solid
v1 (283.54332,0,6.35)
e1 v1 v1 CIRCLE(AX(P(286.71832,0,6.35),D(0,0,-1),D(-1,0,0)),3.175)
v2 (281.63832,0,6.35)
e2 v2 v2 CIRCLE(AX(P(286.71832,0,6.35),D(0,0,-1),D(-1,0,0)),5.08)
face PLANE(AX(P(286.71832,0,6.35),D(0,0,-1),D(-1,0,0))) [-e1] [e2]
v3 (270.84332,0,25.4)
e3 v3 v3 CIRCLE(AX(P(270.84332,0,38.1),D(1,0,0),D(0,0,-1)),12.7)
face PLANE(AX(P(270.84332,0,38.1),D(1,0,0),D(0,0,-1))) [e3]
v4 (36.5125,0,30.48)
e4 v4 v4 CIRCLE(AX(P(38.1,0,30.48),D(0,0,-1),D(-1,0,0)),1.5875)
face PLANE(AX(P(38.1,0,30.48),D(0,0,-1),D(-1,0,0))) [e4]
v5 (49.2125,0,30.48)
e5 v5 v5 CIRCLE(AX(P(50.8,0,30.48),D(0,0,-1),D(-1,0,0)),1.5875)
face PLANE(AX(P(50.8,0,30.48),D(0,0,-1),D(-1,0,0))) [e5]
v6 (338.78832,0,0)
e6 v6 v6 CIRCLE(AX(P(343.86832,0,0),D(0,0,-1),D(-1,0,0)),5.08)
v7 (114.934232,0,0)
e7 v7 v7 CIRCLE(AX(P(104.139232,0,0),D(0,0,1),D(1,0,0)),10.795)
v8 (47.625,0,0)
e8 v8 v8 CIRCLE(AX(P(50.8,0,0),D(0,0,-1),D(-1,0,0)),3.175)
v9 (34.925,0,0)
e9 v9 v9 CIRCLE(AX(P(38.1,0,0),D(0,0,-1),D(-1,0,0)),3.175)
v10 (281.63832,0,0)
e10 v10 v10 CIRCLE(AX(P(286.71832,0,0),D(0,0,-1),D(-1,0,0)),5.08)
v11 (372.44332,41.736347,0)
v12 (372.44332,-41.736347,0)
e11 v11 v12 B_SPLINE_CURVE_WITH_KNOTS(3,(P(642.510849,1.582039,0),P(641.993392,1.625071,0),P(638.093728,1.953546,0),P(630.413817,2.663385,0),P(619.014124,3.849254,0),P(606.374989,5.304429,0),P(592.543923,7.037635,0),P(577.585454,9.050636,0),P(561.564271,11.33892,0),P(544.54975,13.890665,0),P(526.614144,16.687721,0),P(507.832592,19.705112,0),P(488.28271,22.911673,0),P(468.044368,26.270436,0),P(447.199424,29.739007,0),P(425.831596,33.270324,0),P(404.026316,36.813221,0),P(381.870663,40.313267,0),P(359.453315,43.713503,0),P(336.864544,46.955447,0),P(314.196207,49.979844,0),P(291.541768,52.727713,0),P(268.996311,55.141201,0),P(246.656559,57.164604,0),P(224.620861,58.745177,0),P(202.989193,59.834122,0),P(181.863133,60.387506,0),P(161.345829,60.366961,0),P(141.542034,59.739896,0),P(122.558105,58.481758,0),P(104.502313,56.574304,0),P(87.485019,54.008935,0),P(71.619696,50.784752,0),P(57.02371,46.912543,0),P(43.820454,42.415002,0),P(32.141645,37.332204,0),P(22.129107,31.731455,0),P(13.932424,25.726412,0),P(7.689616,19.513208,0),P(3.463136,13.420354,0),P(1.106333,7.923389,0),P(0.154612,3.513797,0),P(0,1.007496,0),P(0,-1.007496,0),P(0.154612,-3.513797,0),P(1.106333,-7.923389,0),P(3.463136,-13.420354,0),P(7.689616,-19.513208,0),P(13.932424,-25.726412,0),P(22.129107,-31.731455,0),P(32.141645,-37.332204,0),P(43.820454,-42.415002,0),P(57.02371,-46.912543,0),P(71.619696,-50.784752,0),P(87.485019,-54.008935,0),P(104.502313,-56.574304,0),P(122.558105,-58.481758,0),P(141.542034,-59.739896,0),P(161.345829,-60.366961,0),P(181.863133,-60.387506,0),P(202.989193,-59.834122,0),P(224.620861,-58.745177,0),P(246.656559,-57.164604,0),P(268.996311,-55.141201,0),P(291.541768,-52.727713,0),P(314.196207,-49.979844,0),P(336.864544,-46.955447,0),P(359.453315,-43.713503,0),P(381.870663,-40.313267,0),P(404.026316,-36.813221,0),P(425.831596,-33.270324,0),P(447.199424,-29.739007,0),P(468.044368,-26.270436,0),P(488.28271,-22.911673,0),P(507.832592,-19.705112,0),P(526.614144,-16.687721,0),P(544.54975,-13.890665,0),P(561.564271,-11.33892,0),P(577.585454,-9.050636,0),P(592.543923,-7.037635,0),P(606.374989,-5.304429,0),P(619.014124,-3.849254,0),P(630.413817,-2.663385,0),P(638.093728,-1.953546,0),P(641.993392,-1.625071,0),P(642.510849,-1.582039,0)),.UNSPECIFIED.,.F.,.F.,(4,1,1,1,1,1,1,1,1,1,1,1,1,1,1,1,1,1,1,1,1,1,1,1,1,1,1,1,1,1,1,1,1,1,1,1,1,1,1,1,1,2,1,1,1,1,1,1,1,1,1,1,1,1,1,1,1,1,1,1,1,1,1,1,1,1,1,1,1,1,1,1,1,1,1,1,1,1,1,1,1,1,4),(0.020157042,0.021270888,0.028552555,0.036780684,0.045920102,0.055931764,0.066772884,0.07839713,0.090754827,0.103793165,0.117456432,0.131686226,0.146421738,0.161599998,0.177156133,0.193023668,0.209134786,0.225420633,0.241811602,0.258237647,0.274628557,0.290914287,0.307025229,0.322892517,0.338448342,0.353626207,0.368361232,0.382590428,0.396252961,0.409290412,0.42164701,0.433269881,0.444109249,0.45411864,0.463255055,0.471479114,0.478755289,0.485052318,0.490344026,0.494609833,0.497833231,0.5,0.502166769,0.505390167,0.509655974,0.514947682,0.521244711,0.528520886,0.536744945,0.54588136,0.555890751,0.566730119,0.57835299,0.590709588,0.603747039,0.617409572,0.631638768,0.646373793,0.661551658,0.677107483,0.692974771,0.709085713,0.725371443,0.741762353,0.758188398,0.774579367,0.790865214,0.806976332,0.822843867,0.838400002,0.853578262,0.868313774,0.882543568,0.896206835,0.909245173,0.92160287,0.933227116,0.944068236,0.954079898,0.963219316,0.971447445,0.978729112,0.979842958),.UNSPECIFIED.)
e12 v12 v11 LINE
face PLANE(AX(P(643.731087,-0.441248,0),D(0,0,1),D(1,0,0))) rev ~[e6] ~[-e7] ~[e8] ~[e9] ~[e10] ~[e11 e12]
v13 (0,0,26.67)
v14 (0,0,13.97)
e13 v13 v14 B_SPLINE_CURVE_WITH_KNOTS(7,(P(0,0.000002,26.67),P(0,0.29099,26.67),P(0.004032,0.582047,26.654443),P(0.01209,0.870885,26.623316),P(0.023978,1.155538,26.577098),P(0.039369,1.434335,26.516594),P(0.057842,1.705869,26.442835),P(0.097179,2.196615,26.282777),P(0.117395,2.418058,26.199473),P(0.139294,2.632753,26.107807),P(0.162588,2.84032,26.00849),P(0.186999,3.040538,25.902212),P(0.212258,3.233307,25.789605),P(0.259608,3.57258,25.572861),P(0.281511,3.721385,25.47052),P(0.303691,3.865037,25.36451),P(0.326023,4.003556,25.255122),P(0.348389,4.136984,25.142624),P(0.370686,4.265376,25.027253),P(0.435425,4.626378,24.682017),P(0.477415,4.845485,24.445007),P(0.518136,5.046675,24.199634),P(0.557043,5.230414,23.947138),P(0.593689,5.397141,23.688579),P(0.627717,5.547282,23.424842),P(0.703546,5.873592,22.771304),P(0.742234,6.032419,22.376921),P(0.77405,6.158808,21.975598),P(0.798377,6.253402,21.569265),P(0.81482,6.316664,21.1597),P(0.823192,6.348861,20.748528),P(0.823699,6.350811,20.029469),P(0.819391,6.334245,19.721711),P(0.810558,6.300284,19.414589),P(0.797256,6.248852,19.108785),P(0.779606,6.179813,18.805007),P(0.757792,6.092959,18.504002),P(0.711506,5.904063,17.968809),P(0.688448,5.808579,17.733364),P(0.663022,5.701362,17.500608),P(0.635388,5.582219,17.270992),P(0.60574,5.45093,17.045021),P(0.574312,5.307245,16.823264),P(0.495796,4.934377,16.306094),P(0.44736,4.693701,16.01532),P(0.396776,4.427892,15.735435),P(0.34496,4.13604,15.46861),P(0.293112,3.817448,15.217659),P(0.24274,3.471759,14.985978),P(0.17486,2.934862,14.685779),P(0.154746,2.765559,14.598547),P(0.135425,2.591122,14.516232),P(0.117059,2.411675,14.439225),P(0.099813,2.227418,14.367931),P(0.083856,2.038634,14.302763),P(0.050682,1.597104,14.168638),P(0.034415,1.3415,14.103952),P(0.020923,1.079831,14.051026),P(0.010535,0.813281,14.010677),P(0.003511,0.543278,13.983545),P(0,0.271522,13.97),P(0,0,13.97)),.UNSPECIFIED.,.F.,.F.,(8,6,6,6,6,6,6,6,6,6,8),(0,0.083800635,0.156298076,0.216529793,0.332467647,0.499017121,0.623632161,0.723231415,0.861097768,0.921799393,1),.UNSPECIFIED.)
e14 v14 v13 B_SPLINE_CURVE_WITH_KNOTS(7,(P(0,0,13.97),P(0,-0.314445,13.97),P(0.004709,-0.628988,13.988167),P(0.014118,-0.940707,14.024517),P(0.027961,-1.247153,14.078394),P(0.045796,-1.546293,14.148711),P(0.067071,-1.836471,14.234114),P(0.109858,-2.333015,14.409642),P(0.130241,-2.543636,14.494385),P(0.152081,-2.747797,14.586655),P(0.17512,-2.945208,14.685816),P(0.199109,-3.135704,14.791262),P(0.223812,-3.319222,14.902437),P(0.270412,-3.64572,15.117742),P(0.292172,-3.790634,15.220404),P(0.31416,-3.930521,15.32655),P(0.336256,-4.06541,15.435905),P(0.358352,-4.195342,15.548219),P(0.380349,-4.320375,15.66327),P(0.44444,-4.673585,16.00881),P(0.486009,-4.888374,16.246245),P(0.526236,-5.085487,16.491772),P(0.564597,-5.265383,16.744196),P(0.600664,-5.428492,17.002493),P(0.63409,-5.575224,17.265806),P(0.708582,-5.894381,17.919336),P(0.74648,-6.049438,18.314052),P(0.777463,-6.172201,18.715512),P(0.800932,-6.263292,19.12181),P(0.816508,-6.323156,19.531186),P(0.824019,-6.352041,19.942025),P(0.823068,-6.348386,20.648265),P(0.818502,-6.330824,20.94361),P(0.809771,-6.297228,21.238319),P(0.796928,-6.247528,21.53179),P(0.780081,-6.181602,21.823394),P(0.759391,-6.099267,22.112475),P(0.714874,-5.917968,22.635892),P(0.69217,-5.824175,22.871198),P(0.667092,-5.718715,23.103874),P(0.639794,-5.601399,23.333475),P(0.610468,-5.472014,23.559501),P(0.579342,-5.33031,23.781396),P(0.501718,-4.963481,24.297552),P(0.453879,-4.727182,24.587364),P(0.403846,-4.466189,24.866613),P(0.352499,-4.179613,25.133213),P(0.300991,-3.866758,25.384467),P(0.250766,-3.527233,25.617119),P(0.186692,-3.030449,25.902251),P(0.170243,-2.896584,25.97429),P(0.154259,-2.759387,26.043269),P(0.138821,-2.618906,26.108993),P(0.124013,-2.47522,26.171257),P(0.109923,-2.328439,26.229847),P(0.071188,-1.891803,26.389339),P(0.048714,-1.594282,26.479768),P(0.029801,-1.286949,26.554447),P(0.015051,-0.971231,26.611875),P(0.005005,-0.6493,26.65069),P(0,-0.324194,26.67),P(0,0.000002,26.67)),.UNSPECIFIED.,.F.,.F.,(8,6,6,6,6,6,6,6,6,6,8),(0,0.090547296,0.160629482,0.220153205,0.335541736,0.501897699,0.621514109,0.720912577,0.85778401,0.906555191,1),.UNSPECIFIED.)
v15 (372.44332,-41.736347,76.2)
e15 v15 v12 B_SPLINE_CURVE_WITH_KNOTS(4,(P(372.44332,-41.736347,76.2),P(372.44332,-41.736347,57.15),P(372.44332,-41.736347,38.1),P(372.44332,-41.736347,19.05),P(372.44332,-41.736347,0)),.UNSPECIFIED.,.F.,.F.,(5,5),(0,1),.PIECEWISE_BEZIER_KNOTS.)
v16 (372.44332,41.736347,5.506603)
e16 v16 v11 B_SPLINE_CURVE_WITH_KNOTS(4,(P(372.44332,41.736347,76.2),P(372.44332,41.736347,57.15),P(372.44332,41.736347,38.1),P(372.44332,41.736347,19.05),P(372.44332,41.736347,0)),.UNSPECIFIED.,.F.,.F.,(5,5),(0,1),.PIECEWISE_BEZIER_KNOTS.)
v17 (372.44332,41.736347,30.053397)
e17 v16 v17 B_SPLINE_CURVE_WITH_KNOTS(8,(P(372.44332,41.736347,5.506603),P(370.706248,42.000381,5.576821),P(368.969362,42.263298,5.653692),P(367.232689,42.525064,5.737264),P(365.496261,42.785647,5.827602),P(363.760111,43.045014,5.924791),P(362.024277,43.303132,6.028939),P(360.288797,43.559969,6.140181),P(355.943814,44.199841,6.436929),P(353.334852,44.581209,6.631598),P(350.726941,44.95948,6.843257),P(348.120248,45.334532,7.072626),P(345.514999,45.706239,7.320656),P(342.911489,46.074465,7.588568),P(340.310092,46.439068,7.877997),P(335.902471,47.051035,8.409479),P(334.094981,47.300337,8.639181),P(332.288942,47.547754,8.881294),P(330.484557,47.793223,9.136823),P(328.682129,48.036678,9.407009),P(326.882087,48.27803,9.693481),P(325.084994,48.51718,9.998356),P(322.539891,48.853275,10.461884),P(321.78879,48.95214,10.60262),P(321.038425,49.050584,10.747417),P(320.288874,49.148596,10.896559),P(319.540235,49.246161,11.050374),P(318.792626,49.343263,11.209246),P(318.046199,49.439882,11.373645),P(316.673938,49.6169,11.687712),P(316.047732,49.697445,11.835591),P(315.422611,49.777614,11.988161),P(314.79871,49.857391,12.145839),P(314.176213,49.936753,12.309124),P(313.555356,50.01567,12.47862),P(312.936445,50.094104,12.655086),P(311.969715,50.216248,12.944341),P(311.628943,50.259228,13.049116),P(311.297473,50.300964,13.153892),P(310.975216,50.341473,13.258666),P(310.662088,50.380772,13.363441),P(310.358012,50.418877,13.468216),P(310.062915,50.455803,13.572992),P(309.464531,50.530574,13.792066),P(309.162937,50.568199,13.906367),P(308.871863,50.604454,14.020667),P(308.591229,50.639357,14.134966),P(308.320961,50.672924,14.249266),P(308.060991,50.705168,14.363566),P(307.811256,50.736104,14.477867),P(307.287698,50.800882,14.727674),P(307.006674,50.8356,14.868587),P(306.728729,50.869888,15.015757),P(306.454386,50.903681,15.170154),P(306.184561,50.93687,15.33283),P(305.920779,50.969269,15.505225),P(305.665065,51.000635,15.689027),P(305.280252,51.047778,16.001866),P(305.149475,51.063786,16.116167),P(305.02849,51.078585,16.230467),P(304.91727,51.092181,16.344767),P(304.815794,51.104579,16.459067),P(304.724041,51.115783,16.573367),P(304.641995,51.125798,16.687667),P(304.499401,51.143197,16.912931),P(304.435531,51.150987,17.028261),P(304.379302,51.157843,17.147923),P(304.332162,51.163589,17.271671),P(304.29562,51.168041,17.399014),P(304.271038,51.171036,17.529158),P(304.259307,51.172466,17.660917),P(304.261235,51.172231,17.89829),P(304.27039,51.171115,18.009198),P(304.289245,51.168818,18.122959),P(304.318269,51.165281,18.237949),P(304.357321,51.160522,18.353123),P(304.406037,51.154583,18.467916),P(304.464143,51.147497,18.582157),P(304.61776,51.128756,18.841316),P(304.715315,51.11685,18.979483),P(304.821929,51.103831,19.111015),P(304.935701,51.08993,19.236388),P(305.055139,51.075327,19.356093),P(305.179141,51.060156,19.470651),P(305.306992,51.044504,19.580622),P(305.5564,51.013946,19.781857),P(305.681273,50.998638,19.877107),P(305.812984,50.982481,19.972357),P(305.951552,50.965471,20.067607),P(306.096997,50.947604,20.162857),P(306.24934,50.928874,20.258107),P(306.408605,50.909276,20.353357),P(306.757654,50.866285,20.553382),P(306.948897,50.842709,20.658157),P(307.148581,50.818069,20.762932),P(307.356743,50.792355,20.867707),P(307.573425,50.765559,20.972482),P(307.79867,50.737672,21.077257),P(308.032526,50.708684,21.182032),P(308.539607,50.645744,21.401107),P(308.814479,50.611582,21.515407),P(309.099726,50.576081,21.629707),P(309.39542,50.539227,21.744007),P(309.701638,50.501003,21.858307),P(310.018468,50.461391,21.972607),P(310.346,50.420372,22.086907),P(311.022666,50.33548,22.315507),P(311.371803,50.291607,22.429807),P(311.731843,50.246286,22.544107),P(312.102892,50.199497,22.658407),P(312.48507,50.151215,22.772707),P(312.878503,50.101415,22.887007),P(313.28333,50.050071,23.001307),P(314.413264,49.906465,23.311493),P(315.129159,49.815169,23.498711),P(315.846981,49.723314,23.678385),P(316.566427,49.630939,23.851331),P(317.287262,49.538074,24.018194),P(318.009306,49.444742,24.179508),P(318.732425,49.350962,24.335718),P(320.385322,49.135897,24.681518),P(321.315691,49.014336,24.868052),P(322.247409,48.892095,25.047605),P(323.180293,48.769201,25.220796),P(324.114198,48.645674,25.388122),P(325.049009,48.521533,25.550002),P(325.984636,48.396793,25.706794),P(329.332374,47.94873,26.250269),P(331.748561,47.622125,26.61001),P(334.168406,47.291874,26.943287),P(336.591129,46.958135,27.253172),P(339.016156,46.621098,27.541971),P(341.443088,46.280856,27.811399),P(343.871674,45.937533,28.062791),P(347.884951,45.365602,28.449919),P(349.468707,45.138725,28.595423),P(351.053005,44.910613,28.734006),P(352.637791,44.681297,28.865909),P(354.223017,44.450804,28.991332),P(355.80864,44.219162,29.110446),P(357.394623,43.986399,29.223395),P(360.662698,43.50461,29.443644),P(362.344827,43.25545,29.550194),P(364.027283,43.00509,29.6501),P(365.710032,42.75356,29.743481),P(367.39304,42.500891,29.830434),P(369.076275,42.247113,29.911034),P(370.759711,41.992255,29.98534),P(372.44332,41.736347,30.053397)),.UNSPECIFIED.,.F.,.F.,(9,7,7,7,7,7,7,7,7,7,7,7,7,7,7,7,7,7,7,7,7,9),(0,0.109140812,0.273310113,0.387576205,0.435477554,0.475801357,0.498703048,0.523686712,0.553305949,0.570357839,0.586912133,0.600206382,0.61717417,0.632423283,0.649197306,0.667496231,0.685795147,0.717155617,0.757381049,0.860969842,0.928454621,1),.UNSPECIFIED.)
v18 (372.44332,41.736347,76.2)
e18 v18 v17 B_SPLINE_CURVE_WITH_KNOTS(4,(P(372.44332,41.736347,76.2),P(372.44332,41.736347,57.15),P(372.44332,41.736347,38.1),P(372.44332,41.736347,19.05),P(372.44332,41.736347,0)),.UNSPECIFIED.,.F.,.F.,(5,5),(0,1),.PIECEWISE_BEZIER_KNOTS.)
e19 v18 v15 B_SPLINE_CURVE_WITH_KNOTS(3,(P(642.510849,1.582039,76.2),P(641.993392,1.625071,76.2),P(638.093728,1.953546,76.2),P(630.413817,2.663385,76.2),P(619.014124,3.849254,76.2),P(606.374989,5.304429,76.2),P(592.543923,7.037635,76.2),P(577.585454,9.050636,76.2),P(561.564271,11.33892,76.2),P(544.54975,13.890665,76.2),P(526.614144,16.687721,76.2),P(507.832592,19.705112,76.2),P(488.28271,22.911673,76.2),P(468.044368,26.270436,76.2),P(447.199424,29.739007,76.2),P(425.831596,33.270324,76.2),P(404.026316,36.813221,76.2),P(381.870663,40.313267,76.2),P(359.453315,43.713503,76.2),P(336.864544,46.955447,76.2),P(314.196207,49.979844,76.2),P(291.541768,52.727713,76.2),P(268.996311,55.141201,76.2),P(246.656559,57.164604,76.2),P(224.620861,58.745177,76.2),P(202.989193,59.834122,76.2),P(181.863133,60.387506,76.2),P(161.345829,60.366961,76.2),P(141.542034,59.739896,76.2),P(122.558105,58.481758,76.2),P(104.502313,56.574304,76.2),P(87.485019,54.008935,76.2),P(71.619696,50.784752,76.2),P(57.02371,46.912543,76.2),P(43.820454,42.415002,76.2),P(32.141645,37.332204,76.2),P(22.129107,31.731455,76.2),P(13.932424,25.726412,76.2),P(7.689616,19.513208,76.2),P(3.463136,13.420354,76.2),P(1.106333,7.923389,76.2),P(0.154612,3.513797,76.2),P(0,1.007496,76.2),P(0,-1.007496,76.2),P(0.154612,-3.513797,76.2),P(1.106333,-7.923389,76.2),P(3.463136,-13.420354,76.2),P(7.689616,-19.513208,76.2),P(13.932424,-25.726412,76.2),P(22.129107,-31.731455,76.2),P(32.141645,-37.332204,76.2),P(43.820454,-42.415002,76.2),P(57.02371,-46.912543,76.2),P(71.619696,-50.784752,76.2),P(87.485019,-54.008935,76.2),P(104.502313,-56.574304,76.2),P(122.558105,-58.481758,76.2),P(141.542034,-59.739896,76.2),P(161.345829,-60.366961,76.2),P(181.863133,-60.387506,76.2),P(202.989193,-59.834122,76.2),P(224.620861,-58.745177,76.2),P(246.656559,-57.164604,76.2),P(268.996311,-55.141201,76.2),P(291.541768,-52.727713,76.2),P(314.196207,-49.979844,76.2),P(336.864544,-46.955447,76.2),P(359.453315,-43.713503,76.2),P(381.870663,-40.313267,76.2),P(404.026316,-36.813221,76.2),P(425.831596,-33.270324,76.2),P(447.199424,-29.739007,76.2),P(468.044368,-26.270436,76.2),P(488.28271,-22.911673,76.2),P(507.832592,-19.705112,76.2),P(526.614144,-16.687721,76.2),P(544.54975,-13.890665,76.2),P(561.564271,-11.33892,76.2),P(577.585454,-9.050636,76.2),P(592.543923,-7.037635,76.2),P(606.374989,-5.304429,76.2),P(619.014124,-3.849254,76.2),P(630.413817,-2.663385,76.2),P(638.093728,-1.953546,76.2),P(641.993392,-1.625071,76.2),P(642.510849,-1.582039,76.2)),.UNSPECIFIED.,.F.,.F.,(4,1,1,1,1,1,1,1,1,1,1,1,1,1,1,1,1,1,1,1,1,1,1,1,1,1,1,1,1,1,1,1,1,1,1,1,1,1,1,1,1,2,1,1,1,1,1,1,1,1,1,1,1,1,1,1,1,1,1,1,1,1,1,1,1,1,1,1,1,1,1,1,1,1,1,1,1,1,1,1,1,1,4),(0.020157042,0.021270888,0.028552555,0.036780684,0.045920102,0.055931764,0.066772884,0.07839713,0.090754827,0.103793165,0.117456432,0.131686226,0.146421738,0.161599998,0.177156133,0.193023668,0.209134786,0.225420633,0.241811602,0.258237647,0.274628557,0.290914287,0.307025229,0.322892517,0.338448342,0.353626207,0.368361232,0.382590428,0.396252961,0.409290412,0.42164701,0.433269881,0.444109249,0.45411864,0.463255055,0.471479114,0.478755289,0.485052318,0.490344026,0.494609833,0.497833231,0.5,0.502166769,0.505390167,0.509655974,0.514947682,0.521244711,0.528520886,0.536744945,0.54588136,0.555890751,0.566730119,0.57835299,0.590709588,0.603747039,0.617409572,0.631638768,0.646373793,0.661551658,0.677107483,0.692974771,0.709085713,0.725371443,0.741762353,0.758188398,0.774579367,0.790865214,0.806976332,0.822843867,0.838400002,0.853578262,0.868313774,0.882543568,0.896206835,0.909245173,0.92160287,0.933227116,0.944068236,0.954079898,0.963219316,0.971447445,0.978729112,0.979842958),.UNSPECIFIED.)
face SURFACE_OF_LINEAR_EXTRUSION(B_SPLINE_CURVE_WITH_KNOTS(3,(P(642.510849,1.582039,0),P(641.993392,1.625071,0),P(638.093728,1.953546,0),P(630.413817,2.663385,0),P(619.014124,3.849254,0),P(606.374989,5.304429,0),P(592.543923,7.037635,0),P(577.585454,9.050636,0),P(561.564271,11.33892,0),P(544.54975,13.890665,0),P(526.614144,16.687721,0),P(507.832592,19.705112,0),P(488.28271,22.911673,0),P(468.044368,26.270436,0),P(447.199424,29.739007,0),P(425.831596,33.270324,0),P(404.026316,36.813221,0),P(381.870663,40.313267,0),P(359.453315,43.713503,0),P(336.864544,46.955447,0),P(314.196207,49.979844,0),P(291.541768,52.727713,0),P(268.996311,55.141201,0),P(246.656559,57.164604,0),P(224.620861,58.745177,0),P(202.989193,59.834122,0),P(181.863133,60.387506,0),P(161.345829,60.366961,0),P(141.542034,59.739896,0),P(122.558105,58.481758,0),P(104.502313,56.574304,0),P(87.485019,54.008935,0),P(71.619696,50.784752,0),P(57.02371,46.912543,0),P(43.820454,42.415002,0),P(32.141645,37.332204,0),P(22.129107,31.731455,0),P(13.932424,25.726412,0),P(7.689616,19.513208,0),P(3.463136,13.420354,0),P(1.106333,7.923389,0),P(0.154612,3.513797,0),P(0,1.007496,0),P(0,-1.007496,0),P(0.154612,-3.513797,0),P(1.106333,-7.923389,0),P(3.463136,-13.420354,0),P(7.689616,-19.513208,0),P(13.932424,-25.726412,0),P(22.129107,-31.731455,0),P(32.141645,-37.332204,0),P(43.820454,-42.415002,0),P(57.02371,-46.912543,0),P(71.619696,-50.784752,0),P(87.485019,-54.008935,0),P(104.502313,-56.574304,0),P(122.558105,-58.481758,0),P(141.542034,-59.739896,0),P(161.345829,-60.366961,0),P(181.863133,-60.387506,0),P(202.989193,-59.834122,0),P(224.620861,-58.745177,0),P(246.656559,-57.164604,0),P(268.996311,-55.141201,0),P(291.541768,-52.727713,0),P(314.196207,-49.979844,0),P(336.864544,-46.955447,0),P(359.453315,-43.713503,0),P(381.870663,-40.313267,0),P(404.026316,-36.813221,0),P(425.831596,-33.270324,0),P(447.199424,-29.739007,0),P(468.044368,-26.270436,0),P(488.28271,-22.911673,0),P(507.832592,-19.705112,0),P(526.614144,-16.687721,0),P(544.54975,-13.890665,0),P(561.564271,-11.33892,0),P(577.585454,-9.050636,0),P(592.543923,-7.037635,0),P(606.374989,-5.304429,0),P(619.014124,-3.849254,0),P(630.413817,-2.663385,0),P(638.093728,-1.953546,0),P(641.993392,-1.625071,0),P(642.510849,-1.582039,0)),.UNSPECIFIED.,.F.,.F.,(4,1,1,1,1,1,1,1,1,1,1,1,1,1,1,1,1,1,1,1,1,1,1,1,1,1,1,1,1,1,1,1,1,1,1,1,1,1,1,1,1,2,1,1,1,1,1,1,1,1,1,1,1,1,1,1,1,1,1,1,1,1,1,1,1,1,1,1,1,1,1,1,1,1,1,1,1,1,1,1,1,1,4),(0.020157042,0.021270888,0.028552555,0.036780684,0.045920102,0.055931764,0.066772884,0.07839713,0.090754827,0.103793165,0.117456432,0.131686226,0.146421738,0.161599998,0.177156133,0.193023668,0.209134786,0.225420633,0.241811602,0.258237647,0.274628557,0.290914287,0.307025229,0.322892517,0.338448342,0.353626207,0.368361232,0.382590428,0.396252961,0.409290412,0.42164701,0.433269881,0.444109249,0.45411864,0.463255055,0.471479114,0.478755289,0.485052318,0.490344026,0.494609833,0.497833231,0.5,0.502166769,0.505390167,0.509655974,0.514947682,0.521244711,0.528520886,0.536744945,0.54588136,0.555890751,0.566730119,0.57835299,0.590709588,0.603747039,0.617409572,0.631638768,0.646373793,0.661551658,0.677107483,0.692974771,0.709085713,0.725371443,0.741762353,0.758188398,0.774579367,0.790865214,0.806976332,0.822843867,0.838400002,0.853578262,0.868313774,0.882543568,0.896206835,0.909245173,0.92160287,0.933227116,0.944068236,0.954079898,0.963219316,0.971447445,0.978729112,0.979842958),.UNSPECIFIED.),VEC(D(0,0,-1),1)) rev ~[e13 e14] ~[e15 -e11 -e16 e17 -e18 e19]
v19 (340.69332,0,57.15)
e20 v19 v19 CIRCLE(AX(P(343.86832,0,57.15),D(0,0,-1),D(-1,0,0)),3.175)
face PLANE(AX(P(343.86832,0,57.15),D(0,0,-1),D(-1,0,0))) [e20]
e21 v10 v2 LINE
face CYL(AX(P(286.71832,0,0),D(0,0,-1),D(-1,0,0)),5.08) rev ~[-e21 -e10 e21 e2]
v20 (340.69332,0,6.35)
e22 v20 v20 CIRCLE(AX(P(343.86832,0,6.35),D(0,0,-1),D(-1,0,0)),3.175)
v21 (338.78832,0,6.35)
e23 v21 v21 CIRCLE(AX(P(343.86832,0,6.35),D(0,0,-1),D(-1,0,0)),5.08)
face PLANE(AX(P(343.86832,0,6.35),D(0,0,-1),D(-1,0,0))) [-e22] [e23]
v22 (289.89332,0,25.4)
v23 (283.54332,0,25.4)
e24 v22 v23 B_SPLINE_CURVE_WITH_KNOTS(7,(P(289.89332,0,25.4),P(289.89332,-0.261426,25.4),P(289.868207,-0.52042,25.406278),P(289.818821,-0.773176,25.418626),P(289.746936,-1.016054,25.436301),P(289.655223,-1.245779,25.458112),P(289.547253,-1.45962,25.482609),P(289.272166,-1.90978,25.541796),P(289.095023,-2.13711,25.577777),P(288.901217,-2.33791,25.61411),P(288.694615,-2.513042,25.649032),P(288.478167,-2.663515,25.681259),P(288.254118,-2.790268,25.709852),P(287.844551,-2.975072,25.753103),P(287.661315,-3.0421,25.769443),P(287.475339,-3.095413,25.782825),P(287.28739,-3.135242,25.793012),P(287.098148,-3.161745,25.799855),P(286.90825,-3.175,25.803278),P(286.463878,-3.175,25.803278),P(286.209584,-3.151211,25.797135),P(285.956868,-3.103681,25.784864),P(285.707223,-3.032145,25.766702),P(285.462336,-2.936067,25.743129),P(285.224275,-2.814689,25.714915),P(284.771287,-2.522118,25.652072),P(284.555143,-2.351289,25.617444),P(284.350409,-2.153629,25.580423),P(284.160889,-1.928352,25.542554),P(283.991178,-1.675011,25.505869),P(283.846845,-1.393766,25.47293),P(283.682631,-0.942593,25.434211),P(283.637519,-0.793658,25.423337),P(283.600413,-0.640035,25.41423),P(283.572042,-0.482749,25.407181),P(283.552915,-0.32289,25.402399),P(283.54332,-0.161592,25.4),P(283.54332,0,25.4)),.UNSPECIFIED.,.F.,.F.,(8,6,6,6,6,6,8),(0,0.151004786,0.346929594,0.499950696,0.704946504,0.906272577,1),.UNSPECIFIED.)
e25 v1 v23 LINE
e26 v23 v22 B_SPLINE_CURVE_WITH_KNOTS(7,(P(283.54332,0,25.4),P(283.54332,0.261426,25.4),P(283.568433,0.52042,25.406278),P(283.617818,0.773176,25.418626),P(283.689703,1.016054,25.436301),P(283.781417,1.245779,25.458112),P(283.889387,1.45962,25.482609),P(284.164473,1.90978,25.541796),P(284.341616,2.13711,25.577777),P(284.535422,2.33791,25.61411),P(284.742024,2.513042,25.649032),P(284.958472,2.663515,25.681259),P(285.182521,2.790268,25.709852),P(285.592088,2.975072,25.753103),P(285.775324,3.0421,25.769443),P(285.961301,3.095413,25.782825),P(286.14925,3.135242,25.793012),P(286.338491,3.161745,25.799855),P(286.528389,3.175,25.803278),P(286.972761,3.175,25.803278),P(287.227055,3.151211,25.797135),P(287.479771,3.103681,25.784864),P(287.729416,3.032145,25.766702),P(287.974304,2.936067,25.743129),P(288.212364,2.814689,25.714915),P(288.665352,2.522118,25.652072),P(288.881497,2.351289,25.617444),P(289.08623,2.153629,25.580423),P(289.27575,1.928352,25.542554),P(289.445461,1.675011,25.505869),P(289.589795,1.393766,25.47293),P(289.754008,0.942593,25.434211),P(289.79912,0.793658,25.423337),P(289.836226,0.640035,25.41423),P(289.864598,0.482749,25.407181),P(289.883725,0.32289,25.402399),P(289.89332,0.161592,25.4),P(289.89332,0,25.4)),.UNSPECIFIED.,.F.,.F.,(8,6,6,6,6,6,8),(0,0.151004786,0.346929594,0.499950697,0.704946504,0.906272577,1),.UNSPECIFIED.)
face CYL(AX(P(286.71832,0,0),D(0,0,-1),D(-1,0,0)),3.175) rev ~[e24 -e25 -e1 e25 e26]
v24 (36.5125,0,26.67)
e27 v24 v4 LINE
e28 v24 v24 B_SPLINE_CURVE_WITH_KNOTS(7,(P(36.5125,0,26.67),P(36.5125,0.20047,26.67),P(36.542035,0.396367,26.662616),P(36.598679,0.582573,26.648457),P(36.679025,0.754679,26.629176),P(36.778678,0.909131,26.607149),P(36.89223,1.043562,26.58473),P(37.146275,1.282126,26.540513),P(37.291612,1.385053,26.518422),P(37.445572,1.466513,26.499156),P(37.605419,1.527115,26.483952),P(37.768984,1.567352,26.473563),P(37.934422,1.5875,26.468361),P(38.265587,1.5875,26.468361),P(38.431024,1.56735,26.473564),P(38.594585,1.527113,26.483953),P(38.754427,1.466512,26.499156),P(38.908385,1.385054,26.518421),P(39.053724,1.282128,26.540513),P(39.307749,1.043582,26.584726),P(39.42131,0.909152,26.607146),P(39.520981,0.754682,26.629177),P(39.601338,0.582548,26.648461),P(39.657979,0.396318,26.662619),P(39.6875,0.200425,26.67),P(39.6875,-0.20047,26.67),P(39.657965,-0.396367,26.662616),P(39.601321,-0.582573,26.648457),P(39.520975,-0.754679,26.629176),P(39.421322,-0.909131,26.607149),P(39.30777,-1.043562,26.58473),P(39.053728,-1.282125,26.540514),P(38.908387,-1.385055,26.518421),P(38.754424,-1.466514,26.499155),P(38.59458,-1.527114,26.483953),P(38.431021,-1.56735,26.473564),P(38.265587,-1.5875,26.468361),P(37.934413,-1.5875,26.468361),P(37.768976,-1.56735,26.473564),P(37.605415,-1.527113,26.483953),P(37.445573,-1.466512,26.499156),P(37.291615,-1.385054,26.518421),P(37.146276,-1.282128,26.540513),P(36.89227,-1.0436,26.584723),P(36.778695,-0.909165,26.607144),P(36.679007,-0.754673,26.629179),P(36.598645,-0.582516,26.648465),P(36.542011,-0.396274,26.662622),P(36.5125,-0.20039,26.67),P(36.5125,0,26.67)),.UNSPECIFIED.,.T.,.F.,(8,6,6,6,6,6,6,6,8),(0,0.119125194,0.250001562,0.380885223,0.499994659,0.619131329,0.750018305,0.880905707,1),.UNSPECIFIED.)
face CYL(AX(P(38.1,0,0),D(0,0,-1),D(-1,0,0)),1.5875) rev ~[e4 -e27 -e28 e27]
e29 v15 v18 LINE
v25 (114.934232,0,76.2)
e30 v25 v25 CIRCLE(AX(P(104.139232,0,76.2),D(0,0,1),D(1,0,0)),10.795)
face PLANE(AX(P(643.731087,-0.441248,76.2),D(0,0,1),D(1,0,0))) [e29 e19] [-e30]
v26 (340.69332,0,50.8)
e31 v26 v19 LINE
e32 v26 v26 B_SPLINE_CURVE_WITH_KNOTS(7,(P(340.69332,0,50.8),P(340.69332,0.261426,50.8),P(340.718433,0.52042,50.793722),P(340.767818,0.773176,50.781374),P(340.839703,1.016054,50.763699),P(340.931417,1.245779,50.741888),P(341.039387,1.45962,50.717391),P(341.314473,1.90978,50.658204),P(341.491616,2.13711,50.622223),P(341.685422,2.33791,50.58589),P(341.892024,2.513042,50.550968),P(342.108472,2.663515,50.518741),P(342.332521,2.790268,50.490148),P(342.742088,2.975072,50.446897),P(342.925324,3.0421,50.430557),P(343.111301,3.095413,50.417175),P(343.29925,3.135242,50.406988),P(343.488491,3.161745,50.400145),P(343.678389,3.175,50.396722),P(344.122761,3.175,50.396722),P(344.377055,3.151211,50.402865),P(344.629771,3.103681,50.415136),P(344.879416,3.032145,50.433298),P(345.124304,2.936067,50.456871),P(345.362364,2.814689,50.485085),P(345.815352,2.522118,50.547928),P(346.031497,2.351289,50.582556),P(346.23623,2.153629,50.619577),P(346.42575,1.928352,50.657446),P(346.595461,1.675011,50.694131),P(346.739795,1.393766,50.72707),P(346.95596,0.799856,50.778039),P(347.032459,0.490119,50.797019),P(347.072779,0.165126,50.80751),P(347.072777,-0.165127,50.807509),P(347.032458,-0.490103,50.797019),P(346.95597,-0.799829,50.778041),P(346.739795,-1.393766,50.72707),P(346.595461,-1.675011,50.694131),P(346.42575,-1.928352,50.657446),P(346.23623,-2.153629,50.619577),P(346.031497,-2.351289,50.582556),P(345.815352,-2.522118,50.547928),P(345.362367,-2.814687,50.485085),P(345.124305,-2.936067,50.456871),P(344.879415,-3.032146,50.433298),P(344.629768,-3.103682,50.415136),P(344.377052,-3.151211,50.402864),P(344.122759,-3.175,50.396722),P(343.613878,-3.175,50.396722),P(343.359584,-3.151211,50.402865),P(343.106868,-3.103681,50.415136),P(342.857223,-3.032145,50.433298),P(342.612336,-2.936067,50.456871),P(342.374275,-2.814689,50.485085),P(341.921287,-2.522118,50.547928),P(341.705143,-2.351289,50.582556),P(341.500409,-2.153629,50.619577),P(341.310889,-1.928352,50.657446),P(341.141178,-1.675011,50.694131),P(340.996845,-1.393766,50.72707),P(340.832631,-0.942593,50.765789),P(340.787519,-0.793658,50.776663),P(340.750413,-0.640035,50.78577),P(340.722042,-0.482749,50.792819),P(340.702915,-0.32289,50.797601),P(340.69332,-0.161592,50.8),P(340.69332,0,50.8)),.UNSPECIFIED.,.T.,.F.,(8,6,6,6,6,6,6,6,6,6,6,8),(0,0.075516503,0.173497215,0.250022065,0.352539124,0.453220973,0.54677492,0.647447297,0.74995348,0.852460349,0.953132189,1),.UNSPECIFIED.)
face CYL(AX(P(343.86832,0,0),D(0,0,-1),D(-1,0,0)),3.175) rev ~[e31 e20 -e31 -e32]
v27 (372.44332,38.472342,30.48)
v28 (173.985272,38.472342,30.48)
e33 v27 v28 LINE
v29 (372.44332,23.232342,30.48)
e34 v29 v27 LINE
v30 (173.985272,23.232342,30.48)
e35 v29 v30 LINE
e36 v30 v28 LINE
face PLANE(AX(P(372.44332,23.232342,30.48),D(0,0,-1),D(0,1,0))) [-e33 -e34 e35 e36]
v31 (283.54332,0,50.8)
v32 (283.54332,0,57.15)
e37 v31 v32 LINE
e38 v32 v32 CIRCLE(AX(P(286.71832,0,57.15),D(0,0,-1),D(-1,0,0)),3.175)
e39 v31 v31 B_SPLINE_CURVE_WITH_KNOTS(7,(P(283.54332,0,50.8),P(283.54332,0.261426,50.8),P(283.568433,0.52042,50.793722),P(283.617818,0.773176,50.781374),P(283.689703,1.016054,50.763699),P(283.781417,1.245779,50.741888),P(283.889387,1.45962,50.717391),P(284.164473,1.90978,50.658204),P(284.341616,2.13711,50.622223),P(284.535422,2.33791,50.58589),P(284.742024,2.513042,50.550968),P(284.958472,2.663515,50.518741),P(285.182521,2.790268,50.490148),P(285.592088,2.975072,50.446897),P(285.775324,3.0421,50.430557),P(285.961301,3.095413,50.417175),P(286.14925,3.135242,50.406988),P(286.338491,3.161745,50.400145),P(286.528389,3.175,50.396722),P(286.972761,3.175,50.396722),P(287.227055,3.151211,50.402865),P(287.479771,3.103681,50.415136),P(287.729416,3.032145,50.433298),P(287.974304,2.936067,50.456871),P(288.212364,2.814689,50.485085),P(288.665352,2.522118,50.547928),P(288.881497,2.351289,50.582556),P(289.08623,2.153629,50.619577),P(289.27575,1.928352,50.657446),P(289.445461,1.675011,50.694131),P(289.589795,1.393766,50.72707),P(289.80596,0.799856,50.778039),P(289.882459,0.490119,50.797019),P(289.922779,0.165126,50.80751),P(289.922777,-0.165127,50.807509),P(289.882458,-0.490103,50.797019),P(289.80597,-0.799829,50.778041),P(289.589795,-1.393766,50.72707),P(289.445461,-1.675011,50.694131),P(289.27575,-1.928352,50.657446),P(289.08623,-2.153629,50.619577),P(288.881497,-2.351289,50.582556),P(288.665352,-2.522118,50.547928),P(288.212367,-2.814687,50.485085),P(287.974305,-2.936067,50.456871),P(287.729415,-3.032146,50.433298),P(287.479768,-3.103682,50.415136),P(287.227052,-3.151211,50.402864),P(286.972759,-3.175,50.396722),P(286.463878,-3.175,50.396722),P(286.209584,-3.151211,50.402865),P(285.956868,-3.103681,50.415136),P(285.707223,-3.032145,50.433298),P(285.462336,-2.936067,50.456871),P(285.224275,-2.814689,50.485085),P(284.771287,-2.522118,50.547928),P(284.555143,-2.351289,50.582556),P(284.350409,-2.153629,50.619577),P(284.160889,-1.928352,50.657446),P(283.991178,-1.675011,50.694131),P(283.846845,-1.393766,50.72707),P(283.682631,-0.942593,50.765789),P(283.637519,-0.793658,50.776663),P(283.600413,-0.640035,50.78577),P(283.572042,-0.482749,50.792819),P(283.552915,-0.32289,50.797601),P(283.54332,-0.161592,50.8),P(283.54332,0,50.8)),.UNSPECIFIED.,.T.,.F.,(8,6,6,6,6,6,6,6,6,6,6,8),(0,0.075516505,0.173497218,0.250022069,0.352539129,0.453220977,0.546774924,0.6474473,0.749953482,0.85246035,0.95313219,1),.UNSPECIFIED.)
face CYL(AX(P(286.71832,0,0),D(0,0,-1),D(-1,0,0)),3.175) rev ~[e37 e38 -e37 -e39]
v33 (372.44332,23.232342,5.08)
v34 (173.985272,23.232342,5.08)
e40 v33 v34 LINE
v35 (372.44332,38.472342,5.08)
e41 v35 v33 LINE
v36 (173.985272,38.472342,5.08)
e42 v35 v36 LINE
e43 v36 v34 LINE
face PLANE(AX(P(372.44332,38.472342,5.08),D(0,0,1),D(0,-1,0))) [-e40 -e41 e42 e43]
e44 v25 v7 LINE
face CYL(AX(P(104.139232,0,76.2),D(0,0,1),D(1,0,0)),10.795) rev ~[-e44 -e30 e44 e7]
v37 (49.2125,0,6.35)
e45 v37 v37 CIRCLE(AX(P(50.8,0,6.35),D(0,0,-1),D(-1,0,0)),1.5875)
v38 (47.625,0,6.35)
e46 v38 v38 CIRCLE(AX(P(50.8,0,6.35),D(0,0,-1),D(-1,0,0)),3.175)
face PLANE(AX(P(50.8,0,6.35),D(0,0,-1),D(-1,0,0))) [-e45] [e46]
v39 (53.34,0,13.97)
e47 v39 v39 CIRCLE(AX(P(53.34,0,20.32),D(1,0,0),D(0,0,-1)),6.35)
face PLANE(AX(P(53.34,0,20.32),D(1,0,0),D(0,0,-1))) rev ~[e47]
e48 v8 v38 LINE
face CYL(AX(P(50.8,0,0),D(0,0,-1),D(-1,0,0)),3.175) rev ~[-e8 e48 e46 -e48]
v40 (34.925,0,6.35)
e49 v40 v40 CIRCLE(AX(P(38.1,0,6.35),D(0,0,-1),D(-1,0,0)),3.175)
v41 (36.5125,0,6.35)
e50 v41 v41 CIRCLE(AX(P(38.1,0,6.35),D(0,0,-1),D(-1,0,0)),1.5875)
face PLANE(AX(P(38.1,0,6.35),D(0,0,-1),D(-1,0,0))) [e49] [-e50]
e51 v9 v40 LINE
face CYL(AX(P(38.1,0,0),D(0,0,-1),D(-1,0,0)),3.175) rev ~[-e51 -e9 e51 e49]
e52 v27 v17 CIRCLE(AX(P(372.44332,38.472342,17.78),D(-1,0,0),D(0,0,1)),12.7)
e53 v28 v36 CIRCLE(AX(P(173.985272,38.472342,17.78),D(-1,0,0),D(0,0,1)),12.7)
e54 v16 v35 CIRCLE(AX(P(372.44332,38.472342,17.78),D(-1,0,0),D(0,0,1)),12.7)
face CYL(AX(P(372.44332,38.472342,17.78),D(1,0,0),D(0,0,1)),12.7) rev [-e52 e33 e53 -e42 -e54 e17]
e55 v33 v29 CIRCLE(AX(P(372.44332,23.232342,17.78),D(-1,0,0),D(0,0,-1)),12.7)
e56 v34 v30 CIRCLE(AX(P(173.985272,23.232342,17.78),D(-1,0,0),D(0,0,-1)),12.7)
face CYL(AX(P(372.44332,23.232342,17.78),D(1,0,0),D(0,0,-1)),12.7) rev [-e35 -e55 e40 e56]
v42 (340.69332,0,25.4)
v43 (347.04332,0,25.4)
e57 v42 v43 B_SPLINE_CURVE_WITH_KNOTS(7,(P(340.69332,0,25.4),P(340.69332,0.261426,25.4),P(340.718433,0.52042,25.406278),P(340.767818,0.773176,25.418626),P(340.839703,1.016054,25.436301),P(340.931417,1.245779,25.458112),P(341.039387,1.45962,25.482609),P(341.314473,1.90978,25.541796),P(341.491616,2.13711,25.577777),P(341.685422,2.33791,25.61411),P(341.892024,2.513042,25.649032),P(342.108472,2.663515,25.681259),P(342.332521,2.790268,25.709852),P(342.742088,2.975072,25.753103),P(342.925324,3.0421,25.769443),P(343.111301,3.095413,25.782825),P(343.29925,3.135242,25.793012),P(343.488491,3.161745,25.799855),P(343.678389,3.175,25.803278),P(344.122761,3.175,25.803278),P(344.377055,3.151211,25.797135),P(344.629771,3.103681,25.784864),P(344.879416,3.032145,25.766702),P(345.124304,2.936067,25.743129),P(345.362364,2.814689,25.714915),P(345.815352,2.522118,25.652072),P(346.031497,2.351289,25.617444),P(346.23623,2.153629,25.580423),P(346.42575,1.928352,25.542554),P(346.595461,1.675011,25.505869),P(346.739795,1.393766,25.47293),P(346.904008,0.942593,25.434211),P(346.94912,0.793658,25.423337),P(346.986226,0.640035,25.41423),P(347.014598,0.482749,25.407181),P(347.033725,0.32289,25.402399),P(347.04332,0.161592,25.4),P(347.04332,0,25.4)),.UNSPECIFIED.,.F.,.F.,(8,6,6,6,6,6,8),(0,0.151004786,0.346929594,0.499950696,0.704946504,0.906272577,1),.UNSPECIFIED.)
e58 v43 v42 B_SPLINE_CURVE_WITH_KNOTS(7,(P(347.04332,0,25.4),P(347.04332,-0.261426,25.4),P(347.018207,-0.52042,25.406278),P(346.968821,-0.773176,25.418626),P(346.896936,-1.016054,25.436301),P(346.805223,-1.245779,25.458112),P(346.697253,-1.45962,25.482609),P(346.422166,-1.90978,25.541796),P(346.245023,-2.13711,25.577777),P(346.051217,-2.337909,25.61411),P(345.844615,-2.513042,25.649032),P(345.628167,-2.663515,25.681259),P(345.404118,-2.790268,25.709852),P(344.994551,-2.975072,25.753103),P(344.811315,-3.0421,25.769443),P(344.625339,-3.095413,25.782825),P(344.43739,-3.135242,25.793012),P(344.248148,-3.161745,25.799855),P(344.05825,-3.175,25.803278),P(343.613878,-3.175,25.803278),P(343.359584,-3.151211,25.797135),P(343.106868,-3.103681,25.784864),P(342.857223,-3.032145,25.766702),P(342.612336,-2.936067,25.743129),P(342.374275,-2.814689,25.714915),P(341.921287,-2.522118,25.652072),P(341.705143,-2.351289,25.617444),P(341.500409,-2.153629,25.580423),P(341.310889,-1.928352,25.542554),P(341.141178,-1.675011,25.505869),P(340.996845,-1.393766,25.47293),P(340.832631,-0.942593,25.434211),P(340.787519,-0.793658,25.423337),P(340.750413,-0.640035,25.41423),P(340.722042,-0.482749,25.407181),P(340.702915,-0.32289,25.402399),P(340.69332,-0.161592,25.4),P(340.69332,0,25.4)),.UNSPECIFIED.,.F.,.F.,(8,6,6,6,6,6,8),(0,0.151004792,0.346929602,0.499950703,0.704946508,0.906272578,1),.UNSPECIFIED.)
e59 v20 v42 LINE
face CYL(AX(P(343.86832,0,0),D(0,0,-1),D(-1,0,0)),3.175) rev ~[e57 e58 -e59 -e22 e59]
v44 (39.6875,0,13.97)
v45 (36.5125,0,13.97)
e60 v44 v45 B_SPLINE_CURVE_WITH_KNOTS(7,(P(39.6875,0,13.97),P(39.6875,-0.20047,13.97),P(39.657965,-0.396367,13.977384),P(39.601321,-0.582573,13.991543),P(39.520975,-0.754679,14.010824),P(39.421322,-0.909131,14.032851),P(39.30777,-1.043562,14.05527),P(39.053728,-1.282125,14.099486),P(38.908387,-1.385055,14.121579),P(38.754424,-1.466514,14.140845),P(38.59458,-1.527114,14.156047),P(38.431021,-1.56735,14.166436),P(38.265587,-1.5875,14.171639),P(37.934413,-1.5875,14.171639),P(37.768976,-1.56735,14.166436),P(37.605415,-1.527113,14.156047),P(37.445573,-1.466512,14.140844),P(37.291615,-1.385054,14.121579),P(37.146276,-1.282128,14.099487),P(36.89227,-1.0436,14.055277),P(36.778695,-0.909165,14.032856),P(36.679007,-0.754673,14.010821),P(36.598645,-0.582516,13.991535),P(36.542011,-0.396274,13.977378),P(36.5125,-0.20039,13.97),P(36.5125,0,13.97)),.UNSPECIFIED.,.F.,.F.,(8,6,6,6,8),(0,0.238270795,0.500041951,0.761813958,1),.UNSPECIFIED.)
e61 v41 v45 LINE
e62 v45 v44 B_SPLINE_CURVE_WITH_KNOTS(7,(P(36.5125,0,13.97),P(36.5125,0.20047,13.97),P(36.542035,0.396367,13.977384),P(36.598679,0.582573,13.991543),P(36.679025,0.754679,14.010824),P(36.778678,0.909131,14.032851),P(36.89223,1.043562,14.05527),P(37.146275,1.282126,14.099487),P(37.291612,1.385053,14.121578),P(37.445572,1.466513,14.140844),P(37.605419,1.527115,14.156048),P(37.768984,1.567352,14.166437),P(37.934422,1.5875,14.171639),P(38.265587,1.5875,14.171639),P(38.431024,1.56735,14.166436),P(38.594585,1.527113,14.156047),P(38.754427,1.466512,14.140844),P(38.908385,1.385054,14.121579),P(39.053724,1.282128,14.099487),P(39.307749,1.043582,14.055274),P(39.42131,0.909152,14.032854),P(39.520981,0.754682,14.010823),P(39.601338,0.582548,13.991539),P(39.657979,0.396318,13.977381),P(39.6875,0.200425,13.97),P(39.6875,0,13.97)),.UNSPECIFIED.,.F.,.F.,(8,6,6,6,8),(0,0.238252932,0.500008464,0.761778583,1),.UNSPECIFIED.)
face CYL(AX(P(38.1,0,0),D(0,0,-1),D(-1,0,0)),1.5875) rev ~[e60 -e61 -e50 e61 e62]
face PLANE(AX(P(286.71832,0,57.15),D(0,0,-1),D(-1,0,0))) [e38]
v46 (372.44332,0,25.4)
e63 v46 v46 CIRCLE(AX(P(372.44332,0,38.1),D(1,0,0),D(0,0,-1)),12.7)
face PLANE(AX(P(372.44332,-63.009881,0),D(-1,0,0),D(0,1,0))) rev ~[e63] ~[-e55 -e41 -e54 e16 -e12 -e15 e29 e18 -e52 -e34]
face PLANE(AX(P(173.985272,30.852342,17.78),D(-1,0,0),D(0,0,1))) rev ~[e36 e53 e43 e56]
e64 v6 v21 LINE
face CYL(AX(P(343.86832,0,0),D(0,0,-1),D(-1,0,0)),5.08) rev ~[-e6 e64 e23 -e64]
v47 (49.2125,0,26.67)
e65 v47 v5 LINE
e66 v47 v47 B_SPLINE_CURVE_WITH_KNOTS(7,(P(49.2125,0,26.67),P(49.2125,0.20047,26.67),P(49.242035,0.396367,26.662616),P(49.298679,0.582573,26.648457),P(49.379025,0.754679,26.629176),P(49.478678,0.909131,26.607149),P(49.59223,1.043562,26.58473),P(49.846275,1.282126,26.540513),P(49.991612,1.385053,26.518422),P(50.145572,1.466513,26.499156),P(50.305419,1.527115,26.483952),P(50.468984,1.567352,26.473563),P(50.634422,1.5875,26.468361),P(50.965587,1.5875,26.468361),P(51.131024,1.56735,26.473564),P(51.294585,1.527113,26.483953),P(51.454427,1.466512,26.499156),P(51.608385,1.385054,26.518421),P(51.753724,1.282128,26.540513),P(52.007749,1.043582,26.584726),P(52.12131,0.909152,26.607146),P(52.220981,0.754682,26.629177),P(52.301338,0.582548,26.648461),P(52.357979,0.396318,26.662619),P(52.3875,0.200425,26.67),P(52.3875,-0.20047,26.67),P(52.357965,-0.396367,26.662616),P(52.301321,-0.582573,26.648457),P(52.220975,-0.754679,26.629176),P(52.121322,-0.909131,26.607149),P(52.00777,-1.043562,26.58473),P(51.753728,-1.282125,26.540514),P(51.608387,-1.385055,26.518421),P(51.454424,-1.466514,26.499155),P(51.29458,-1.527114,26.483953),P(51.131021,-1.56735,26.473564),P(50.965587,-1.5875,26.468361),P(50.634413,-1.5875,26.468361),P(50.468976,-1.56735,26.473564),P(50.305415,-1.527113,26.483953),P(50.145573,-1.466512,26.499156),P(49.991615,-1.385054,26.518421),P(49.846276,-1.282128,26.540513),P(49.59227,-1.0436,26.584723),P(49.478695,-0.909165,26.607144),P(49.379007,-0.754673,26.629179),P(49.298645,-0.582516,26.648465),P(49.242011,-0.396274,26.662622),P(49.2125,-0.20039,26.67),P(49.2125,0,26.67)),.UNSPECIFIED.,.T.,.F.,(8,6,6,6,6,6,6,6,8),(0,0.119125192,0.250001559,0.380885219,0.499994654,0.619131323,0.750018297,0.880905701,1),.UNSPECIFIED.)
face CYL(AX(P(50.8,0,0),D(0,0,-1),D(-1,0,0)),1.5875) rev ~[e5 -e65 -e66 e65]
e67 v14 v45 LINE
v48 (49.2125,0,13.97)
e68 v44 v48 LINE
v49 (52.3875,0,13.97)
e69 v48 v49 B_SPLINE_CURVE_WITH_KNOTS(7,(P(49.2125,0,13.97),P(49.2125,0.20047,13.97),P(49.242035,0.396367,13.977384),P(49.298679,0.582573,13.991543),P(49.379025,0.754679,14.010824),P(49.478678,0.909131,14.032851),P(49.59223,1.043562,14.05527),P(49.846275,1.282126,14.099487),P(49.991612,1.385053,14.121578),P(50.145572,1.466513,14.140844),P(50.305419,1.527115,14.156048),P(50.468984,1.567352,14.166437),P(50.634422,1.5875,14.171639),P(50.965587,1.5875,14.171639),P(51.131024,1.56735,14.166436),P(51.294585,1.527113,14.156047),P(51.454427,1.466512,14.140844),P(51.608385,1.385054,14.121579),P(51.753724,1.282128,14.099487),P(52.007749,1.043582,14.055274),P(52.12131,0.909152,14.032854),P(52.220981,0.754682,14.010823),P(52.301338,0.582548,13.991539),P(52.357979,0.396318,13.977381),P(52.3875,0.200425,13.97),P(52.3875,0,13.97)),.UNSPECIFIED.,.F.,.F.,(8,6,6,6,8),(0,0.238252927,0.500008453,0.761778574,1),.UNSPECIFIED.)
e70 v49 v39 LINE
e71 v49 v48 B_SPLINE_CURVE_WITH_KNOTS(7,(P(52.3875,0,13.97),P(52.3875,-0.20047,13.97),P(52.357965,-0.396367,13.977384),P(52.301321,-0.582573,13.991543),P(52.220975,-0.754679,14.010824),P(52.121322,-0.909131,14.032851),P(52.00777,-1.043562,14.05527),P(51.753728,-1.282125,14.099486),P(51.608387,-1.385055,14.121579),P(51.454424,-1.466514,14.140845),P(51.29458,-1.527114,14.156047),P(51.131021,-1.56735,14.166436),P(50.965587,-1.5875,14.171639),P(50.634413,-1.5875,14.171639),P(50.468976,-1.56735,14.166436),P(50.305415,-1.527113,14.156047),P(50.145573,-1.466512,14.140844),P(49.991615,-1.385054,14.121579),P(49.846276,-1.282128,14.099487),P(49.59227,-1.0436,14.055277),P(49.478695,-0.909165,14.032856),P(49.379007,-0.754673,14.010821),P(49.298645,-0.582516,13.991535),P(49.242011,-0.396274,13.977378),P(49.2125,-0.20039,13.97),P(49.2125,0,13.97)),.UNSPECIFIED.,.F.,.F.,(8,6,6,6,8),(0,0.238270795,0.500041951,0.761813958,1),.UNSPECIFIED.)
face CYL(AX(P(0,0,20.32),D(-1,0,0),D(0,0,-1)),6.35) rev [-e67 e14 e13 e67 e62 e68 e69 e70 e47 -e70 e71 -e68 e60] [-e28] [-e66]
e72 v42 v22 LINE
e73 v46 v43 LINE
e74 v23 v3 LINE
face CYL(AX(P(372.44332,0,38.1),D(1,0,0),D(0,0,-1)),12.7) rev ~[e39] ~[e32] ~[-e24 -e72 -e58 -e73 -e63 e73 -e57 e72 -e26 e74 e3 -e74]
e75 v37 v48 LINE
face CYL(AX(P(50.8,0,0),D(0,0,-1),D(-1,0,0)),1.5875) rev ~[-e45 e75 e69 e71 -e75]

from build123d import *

# Parameters (mm, degrees)
BOSS_EXTRUDE1_DEPTH     = 76.2
SKETCH3_R               = 10.795
CUT_EXTRUDE2_DEPTH      = 76.2
SKETCH6_R               = 6.35
CUT_EXTRUDE3_DEPTH      = 53.34
CUT_EXTRUDE3_DEPTH_BACK = 0.000254
SKETCH7_R               = 1.5875
CUT_EXTRUDE4_DEPTH      = 30.48
SKETCH8_W               = 304.8
SKETCH8_H               = 127
CUT_EXTRUDE5_DEPTH      = 76.2
SKETCH9_R               = 12.7
CUT_EXTRUDE6_DEPTH      = 101.6
SKETCH10_R              = 3.175
CUT_EXTRUDE7_DEPTH      = 57.15
SKETCH11_R              = 5.08
CUT_EXTRUDE8_DEPTH      = 6.35
SKETCH12_R              = 3.175
CUT_EXTRUDE9_DEPTH      = 6.35
CUT_EXTRUDE10_DEPTH     = 198.458047838


with BuildPart() as part:
    # Sketch1 → Boss-Extrude1 (new body)
    with BuildSketch(Plane.XY):
        with BuildLine():
            Line((643.966787522, 0), (643.599082689, 0))
            Line((643.599082689, 0), (643.599082689, -1.016))
            ThreePointArc((643.599082689, -1.016), (643.872033494, -0.540245973), (643.966787522, 0))
        make_face()
        with BuildLine():
            Line((643.599082689, -1.016), (643.599082689, 0))
            Line((643.599082689, 0), (641.567082689, 0))
            ThreePointArc((641.567082689, 0), (642.269121423, -1.135922533), (643.599082689, -1.016))
        make_face()
        with BuildLine():
            Line((641.567082689, 0), (643.599082689, 0))
            Line((643.599082689, 0), (643.966787522, 0))
            ThreePointArc((643.966787522, 0), (643.547407924, 1.075012082), (642.510849283, 1.582039112))
            add(Edge.make_bspline(
                [(642.510849283, 1.582039112), (641.993392355, 1.625070631), (638.093728429, 1.953546407), (630.413817462, 2.663385493), (619.014124193, 3.849253664), (606.374988512, 5.304428983), (592.543922516, 7.037634907), (577.585454095, 9.050636147), (561.564270734, 11.338919625), (544.549749946, 13.890665375), (526.614143658, 16.687720753), (507.832591566, 19.705111663), (488.282710288, 22.911672601), (468.044367735, 26.27043606), (447.199424328, 29.739007432), (425.831595832, 33.270324121), (404.02631566, 36.813220545), (381.870662856, 40.313266856), (359.453314895, 43.713502532), (336.86454415, 46.955447457), (314.196207315, 49.979843895), (291.541767704, 52.727712704), (268.996310773, 55.141201012), (246.65655865, 57.164603829), (224.620860897, 58.745176641), (202.989192599, 59.8341217), (181.863132616, 60.387506142), (161.345829027, 60.366961324), (141.542033828, 59.739895824), (122.558104573, 58.481758104), (104.502313427, 56.574303932), (87.485018636, 54.008935199), (71.619696083, 50.784752003), (57.023709725, 46.912543066), (43.82045433, 42.41500246), (32.141645239, 37.332204029), (22.129107375, 31.731455339), (13.932423524, 25.726412106), (7.689616489, 19.513207632), (3.463136343, 13.420354421), (1.106333228, 7.923389435), (0.154611582, 3.513796615), (0, 1.007496172), (0, 0)],
                knots=[0.020157042, 0.020157042, 0.020157042, 0.020157042, 0.021270888, 0.028552555, 0.036780684, 0.045920102, 0.055931764, 0.066772884, 0.07839713, 0.090754827, 0.103793165, 0.117456432, 0.131686226, 0.146421738, 0.161599998, 0.177156133, 0.193023668, 0.209134786, 0.225420633, 0.241811602, 0.258237647, 0.274628557, 0.290914287, 0.307025229, 0.322892517, 0.338448342, 0.353626207, 0.368361232, 0.382590428, 0.396252961, 0.409290412, 0.42164701, 0.433269881, 0.444109249, 0.45411864, 0.463255055, 0.471479114, 0.478755289, 0.485052318, 0.490344026, 0.494609833, 0.497833231, 0.5, 0.5, 0.5, 0.5], degree=3))
            Line((0, 0), (27.94, 0))
            ThreePointArc((27.94, 0), (40.64, 12.7), (53.34, 0))
            Line((53.34, 0), (93.345, 0))
            ThreePointArc((93.345, 0), (104.14, 10.795), (114.935, 0))
            Line((114.935, 0), (460.660965279, 0))
            Line((460.660965279, 0), (473.360965279, 0))
            Line((473.360965279, 0), (641.567082689, 0))
        make_face()
        with BuildLine():
            ThreePointArc((642.510849283, -1.582039112), (643.111845681, -1.408373102), (643.599082689, -1.016))
            ThreePointArc((643.599082689, -1.016), (642.269121423, -1.135922533), (641.567082689, 0))
            Line((641.567082689, 0), (473.360965279, 0))
            Line((473.360965279, 0), (460.660965279, 0))
            Line((460.660965279, 0), (114.935, 0))
            ThreePointArc((114.935, 0), (104.14, -10.795), (93.345, 0))
            Line((93.345, 0), (53.34, 0))
            ThreePointArc((53.34, 0), (40.64, -12.7), (27.94, 0))
            Line((27.94, 0), (0, 0))
            add(Edge.make_bspline(
                [(0, 0), (0, -1.007496172), (0.154611582, -3.513796615), (1.106333228, -7.923389435), (3.463136343, -13.420354421), (7.689616489, -19.513207632), (13.932423524, -25.726412106), (22.129107375, -31.731455339), (32.141645239, -37.332204029), (43.82045433, -42.41500246), (57.023709725, -46.912543066), (71.619696083, -50.784752003), (87.485018636, -54.008935199), (104.502313427, -56.574303932), (122.558104573, -58.481758104), (141.542033828, -59.739895824), (161.345829027, -60.366961324), (181.863132616, -60.387506142), (202.989192599, -59.8341217), (224.620860897, -58.745176641), (246.65655865, -57.164603829), (268.996310773, -55.141201012), (291.541767704, -52.727712704), (314.196207315, -49.979843895), (336.86454415, -46.955447457), (359.453314895, -43.713502532), (381.870662856, -40.313266856), (404.02631566, -36.813220545), (425.831595832, -33.270324121), (447.199424328, -29.739007432), (468.044367735, -26.27043606), (488.282710288, -22.911672601), (507.832591566, -19.705111663), (526.614143658, -16.687720753), (544.549749946, -13.890665375), (561.564270734, -11.338919625), (577.585454095, -9.050636147), (592.543922516, -7.037634907), (606.374988512, -5.304428983), (619.014124193, -3.849253664), (630.413817462, -2.663385493), (638.093728429, -1.953546407), (641.993392355, -1.625070631), (642.510849283, -1.582039112)],
                knots=[0.5, 0.5, 0.5, 0.5, 0.502166769, 0.505390167, 0.509655974, 0.514947682, 0.521244711, 0.528520886, 0.536744945, 0.54588136, 0.555890751, 0.566730119, 0.57835299, 0.590709588, 0.603747039, 0.617409572, 0.631638768, 0.646373793, 0.661551658, 0.677107483, 0.692974771, 0.709085713, 0.725371443, 0.741762353, 0.758188398, 0.774579367, 0.790865214, 0.806976332, 0.822843867, 0.838400002, 0.853578262, 0.868313774, 0.882543568, 0.896206835, 0.909245173, 0.92160287, 0.933227116, 0.944068236, 0.954079898, 0.963219316, 0.971447445, 0.978729112, 0.979842958, 0.979842958, 0.979842958, 0.979842958], degree=3))
        make_face()
        with BuildLine():
            ThreePointArc((643.966787522, 0), (643.872033494, -0.540245973), (643.599082689, -1.016))
            ThreePointArc((643.599082689, -1.016), (643.111845681, -1.408373102), (642.510849283, -1.582039112))
            add(Edge.make_bspline(
                [(642.510849283, -1.582039112), (644.922074617, -1.381522545), (649.798936594, -1.000308437), (656.504964311, -0.543558383), (662.850933168, -0.234427605), (666.344759683, -0.054696708), (670.56, -0.015678595), (670.56, 0)],
                knots=[0.979842958, 0.979842958, 0.979842958, 0.979842958, 0.985033212, 0.990332793, 0.994605218, 0.997832222, 1, 1, 1, 1], degree=3))
            add(Edge.make_bspline(
                [(670.56, 0), (670.56, 0.015678595), (666.344759683, 0.054696708), (662.850933168, 0.234427605), (656.504964311, 0.543558383), (649.798936594, 1.000308437), (644.922074617, 1.381522545), (642.510849283, 1.582039112)],
                knots=[0, 0, 0, 0, 0.002167778, 0.005394782, 0.009667207, 0.014966788, 0.020157042, 0.020157042, 0.020157042, 0.020157042], degree=3))
            ThreePointArc((642.510849283, 1.582039112), (643.547407924, 1.075012082), (643.966787522, 0))
        make_face()
        with BuildLine():
            ThreePointArc((53.34, 0), (40.64, 12.7), (27.94, 0))
            Line((27.94, 0), (53.34, 0))
        make_face()
        with BuildLine():
            Line((53.34, 0), (27.94, 0))
            ThreePointArc((27.94, 0), (40.64, -12.7), (53.34, 0))
        make_face()
        with BuildLine():
            ThreePointArc((93.345, 0), (104.14, -10.795), (114.935, 0))
            Line((114.935, 0), (93.345, 0))
        make_face()
        with BuildLine():
            Line((93.345, 0), (114.935, 0))
            ThreePointArc((114.935, 0), (104.14, 10.795), (93.345, 0))
        make_face()
    extrude(amount=BOSS_EXTRUDE1_DEPTH)

    # Sketch3 → Cut-Extrude2 (cut)
    with BuildSketch(Plane.XY.offset(76.2)):
        with Locations((104.139232412, 0)):
            Circle(SKETCH3_R)
    extrude(amount=-CUT_EXTRUDE2_DEPTH, mode=Mode.SUBTRACT)

    # Sketch6 → Cut-Extrude3 (cut, two sides)
    with BuildSketch(Plane(origin=(0, 0, 0), x_dir=(0, 0, -1), z_dir=(1, 0, 0))) as cut_extrude3_sk:
        with Locations((-20.32, 0)):
            Circle(SKETCH6_R)
    extrude(amount=CUT_EXTRUDE3_DEPTH, mode=Mode.SUBTRACT)
    extrude(cut_extrude3_sk.sketch, amount=-CUT_EXTRUDE3_DEPTH_BACK, mode=Mode.SUBTRACT)

    # Sketch7 → Cut-Extrude4 (cut)
    with BuildSketch(Plane(origin=(0, 0, 0), x_dir=(-1, 0, 0), z_dir=(0, 0, -1))):
        with Locations((-38.1, 0)):
            Circle(SKETCH7_R)
        with Locations((-50.8, 0)):
            Circle(SKETCH7_R)
    extrude(amount=-CUT_EXTRUDE4_DEPTH, mode=Mode.SUBTRACT)

    # Sketch8 → Cut-Extrude5 (cut)
    with BuildSketch(Plane(origin=(0, 0, 0), x_dir=(-1, 0, 0), z_dir=(0, 0, -1))):
        with Locations((-524.843319628, 0.490119432)):
            Rectangle(SKETCH8_W, SKETCH8_H)
    extrude(amount=-CUT_EXTRUDE5_DEPTH, mode=Mode.SUBTRACT)

    # Sketch9 → Cut-Extrude6 (cut)
    with BuildSketch(Plane(origin=(372.443319628, 0, 0), x_dir=(0, 0, -1), z_dir=(1, 0, 0))):
        with Locations((-38.1, 0)):
            Circle(SKETCH9_R)
    extrude(amount=-CUT_EXTRUDE6_DEPTH, mode=Mode.SUBTRACT)

    # Sketch10 → Cut-Extrude7 (cut)
    with BuildSketch(Plane(origin=(0, 0, 0), x_dir=(-1, 0, 0), z_dir=(0, 0, -1))):
        with Locations((-343.868319647, 0)):
            Circle(SKETCH10_R)
        with Locations((-286.718319647, 0)):
            Circle(SKETCH10_R)
    extrude(amount=-CUT_EXTRUDE7_DEPTH, mode=Mode.SUBTRACT)

    # Sketch11 → Cut-Extrude8 (cut)
    with BuildSketch(Plane(origin=(0, 0, 0), x_dir=(-1, 0, 0), z_dir=(0, 0, -1))):
        with Locations((-286.718319647, 0)):
            Circle(SKETCH11_R)
        with Locations((-343.868319647, 0)):
            Circle(SKETCH11_R)
    extrude(amount=-CUT_EXTRUDE8_DEPTH, mode=Mode.SUBTRACT)

    # Sketch12 → Cut-Extrude9 (cut)
    with BuildSketch(Plane(origin=(0, 0, 0), x_dir=(-1, 0, 0), z_dir=(0, 0, -1))):
        with Locations((-38.1, 0)):
            Circle(SKETCH12_R)
        with Locations((-50.8, 0)):
            Circle(SKETCH12_R)
    extrude(amount=-CUT_EXTRUDE9_DEPTH, mode=Mode.SUBTRACT)

    # Sketch13 → Cut-Extrude10 (cut)
    with BuildSketch(Plane(origin=(372.443319628, 0, 0), x_dir=(0, 0, -1), z_dir=(1, 0, 0))):
        with BuildLine():
            Line((-30.48, 23.232341673), (-30.48, 38.472341673))
            ThreePointArc((-30.48, 38.472341673), (-17.78, 51.172341673), (-5.08, 38.472341673))
            Line((-5.08, 38.472341673), (-5.08, 23.232341673))
            ThreePointArc((-5.08, 23.232341673), (-17.78, 10.532341673), (-30.48, 23.232341673))
        make_face()
    extrude(amount=-CUT_EXTRUDE10_DEPTH, mode=Mode.SUBTRACT)


solid = part.part
